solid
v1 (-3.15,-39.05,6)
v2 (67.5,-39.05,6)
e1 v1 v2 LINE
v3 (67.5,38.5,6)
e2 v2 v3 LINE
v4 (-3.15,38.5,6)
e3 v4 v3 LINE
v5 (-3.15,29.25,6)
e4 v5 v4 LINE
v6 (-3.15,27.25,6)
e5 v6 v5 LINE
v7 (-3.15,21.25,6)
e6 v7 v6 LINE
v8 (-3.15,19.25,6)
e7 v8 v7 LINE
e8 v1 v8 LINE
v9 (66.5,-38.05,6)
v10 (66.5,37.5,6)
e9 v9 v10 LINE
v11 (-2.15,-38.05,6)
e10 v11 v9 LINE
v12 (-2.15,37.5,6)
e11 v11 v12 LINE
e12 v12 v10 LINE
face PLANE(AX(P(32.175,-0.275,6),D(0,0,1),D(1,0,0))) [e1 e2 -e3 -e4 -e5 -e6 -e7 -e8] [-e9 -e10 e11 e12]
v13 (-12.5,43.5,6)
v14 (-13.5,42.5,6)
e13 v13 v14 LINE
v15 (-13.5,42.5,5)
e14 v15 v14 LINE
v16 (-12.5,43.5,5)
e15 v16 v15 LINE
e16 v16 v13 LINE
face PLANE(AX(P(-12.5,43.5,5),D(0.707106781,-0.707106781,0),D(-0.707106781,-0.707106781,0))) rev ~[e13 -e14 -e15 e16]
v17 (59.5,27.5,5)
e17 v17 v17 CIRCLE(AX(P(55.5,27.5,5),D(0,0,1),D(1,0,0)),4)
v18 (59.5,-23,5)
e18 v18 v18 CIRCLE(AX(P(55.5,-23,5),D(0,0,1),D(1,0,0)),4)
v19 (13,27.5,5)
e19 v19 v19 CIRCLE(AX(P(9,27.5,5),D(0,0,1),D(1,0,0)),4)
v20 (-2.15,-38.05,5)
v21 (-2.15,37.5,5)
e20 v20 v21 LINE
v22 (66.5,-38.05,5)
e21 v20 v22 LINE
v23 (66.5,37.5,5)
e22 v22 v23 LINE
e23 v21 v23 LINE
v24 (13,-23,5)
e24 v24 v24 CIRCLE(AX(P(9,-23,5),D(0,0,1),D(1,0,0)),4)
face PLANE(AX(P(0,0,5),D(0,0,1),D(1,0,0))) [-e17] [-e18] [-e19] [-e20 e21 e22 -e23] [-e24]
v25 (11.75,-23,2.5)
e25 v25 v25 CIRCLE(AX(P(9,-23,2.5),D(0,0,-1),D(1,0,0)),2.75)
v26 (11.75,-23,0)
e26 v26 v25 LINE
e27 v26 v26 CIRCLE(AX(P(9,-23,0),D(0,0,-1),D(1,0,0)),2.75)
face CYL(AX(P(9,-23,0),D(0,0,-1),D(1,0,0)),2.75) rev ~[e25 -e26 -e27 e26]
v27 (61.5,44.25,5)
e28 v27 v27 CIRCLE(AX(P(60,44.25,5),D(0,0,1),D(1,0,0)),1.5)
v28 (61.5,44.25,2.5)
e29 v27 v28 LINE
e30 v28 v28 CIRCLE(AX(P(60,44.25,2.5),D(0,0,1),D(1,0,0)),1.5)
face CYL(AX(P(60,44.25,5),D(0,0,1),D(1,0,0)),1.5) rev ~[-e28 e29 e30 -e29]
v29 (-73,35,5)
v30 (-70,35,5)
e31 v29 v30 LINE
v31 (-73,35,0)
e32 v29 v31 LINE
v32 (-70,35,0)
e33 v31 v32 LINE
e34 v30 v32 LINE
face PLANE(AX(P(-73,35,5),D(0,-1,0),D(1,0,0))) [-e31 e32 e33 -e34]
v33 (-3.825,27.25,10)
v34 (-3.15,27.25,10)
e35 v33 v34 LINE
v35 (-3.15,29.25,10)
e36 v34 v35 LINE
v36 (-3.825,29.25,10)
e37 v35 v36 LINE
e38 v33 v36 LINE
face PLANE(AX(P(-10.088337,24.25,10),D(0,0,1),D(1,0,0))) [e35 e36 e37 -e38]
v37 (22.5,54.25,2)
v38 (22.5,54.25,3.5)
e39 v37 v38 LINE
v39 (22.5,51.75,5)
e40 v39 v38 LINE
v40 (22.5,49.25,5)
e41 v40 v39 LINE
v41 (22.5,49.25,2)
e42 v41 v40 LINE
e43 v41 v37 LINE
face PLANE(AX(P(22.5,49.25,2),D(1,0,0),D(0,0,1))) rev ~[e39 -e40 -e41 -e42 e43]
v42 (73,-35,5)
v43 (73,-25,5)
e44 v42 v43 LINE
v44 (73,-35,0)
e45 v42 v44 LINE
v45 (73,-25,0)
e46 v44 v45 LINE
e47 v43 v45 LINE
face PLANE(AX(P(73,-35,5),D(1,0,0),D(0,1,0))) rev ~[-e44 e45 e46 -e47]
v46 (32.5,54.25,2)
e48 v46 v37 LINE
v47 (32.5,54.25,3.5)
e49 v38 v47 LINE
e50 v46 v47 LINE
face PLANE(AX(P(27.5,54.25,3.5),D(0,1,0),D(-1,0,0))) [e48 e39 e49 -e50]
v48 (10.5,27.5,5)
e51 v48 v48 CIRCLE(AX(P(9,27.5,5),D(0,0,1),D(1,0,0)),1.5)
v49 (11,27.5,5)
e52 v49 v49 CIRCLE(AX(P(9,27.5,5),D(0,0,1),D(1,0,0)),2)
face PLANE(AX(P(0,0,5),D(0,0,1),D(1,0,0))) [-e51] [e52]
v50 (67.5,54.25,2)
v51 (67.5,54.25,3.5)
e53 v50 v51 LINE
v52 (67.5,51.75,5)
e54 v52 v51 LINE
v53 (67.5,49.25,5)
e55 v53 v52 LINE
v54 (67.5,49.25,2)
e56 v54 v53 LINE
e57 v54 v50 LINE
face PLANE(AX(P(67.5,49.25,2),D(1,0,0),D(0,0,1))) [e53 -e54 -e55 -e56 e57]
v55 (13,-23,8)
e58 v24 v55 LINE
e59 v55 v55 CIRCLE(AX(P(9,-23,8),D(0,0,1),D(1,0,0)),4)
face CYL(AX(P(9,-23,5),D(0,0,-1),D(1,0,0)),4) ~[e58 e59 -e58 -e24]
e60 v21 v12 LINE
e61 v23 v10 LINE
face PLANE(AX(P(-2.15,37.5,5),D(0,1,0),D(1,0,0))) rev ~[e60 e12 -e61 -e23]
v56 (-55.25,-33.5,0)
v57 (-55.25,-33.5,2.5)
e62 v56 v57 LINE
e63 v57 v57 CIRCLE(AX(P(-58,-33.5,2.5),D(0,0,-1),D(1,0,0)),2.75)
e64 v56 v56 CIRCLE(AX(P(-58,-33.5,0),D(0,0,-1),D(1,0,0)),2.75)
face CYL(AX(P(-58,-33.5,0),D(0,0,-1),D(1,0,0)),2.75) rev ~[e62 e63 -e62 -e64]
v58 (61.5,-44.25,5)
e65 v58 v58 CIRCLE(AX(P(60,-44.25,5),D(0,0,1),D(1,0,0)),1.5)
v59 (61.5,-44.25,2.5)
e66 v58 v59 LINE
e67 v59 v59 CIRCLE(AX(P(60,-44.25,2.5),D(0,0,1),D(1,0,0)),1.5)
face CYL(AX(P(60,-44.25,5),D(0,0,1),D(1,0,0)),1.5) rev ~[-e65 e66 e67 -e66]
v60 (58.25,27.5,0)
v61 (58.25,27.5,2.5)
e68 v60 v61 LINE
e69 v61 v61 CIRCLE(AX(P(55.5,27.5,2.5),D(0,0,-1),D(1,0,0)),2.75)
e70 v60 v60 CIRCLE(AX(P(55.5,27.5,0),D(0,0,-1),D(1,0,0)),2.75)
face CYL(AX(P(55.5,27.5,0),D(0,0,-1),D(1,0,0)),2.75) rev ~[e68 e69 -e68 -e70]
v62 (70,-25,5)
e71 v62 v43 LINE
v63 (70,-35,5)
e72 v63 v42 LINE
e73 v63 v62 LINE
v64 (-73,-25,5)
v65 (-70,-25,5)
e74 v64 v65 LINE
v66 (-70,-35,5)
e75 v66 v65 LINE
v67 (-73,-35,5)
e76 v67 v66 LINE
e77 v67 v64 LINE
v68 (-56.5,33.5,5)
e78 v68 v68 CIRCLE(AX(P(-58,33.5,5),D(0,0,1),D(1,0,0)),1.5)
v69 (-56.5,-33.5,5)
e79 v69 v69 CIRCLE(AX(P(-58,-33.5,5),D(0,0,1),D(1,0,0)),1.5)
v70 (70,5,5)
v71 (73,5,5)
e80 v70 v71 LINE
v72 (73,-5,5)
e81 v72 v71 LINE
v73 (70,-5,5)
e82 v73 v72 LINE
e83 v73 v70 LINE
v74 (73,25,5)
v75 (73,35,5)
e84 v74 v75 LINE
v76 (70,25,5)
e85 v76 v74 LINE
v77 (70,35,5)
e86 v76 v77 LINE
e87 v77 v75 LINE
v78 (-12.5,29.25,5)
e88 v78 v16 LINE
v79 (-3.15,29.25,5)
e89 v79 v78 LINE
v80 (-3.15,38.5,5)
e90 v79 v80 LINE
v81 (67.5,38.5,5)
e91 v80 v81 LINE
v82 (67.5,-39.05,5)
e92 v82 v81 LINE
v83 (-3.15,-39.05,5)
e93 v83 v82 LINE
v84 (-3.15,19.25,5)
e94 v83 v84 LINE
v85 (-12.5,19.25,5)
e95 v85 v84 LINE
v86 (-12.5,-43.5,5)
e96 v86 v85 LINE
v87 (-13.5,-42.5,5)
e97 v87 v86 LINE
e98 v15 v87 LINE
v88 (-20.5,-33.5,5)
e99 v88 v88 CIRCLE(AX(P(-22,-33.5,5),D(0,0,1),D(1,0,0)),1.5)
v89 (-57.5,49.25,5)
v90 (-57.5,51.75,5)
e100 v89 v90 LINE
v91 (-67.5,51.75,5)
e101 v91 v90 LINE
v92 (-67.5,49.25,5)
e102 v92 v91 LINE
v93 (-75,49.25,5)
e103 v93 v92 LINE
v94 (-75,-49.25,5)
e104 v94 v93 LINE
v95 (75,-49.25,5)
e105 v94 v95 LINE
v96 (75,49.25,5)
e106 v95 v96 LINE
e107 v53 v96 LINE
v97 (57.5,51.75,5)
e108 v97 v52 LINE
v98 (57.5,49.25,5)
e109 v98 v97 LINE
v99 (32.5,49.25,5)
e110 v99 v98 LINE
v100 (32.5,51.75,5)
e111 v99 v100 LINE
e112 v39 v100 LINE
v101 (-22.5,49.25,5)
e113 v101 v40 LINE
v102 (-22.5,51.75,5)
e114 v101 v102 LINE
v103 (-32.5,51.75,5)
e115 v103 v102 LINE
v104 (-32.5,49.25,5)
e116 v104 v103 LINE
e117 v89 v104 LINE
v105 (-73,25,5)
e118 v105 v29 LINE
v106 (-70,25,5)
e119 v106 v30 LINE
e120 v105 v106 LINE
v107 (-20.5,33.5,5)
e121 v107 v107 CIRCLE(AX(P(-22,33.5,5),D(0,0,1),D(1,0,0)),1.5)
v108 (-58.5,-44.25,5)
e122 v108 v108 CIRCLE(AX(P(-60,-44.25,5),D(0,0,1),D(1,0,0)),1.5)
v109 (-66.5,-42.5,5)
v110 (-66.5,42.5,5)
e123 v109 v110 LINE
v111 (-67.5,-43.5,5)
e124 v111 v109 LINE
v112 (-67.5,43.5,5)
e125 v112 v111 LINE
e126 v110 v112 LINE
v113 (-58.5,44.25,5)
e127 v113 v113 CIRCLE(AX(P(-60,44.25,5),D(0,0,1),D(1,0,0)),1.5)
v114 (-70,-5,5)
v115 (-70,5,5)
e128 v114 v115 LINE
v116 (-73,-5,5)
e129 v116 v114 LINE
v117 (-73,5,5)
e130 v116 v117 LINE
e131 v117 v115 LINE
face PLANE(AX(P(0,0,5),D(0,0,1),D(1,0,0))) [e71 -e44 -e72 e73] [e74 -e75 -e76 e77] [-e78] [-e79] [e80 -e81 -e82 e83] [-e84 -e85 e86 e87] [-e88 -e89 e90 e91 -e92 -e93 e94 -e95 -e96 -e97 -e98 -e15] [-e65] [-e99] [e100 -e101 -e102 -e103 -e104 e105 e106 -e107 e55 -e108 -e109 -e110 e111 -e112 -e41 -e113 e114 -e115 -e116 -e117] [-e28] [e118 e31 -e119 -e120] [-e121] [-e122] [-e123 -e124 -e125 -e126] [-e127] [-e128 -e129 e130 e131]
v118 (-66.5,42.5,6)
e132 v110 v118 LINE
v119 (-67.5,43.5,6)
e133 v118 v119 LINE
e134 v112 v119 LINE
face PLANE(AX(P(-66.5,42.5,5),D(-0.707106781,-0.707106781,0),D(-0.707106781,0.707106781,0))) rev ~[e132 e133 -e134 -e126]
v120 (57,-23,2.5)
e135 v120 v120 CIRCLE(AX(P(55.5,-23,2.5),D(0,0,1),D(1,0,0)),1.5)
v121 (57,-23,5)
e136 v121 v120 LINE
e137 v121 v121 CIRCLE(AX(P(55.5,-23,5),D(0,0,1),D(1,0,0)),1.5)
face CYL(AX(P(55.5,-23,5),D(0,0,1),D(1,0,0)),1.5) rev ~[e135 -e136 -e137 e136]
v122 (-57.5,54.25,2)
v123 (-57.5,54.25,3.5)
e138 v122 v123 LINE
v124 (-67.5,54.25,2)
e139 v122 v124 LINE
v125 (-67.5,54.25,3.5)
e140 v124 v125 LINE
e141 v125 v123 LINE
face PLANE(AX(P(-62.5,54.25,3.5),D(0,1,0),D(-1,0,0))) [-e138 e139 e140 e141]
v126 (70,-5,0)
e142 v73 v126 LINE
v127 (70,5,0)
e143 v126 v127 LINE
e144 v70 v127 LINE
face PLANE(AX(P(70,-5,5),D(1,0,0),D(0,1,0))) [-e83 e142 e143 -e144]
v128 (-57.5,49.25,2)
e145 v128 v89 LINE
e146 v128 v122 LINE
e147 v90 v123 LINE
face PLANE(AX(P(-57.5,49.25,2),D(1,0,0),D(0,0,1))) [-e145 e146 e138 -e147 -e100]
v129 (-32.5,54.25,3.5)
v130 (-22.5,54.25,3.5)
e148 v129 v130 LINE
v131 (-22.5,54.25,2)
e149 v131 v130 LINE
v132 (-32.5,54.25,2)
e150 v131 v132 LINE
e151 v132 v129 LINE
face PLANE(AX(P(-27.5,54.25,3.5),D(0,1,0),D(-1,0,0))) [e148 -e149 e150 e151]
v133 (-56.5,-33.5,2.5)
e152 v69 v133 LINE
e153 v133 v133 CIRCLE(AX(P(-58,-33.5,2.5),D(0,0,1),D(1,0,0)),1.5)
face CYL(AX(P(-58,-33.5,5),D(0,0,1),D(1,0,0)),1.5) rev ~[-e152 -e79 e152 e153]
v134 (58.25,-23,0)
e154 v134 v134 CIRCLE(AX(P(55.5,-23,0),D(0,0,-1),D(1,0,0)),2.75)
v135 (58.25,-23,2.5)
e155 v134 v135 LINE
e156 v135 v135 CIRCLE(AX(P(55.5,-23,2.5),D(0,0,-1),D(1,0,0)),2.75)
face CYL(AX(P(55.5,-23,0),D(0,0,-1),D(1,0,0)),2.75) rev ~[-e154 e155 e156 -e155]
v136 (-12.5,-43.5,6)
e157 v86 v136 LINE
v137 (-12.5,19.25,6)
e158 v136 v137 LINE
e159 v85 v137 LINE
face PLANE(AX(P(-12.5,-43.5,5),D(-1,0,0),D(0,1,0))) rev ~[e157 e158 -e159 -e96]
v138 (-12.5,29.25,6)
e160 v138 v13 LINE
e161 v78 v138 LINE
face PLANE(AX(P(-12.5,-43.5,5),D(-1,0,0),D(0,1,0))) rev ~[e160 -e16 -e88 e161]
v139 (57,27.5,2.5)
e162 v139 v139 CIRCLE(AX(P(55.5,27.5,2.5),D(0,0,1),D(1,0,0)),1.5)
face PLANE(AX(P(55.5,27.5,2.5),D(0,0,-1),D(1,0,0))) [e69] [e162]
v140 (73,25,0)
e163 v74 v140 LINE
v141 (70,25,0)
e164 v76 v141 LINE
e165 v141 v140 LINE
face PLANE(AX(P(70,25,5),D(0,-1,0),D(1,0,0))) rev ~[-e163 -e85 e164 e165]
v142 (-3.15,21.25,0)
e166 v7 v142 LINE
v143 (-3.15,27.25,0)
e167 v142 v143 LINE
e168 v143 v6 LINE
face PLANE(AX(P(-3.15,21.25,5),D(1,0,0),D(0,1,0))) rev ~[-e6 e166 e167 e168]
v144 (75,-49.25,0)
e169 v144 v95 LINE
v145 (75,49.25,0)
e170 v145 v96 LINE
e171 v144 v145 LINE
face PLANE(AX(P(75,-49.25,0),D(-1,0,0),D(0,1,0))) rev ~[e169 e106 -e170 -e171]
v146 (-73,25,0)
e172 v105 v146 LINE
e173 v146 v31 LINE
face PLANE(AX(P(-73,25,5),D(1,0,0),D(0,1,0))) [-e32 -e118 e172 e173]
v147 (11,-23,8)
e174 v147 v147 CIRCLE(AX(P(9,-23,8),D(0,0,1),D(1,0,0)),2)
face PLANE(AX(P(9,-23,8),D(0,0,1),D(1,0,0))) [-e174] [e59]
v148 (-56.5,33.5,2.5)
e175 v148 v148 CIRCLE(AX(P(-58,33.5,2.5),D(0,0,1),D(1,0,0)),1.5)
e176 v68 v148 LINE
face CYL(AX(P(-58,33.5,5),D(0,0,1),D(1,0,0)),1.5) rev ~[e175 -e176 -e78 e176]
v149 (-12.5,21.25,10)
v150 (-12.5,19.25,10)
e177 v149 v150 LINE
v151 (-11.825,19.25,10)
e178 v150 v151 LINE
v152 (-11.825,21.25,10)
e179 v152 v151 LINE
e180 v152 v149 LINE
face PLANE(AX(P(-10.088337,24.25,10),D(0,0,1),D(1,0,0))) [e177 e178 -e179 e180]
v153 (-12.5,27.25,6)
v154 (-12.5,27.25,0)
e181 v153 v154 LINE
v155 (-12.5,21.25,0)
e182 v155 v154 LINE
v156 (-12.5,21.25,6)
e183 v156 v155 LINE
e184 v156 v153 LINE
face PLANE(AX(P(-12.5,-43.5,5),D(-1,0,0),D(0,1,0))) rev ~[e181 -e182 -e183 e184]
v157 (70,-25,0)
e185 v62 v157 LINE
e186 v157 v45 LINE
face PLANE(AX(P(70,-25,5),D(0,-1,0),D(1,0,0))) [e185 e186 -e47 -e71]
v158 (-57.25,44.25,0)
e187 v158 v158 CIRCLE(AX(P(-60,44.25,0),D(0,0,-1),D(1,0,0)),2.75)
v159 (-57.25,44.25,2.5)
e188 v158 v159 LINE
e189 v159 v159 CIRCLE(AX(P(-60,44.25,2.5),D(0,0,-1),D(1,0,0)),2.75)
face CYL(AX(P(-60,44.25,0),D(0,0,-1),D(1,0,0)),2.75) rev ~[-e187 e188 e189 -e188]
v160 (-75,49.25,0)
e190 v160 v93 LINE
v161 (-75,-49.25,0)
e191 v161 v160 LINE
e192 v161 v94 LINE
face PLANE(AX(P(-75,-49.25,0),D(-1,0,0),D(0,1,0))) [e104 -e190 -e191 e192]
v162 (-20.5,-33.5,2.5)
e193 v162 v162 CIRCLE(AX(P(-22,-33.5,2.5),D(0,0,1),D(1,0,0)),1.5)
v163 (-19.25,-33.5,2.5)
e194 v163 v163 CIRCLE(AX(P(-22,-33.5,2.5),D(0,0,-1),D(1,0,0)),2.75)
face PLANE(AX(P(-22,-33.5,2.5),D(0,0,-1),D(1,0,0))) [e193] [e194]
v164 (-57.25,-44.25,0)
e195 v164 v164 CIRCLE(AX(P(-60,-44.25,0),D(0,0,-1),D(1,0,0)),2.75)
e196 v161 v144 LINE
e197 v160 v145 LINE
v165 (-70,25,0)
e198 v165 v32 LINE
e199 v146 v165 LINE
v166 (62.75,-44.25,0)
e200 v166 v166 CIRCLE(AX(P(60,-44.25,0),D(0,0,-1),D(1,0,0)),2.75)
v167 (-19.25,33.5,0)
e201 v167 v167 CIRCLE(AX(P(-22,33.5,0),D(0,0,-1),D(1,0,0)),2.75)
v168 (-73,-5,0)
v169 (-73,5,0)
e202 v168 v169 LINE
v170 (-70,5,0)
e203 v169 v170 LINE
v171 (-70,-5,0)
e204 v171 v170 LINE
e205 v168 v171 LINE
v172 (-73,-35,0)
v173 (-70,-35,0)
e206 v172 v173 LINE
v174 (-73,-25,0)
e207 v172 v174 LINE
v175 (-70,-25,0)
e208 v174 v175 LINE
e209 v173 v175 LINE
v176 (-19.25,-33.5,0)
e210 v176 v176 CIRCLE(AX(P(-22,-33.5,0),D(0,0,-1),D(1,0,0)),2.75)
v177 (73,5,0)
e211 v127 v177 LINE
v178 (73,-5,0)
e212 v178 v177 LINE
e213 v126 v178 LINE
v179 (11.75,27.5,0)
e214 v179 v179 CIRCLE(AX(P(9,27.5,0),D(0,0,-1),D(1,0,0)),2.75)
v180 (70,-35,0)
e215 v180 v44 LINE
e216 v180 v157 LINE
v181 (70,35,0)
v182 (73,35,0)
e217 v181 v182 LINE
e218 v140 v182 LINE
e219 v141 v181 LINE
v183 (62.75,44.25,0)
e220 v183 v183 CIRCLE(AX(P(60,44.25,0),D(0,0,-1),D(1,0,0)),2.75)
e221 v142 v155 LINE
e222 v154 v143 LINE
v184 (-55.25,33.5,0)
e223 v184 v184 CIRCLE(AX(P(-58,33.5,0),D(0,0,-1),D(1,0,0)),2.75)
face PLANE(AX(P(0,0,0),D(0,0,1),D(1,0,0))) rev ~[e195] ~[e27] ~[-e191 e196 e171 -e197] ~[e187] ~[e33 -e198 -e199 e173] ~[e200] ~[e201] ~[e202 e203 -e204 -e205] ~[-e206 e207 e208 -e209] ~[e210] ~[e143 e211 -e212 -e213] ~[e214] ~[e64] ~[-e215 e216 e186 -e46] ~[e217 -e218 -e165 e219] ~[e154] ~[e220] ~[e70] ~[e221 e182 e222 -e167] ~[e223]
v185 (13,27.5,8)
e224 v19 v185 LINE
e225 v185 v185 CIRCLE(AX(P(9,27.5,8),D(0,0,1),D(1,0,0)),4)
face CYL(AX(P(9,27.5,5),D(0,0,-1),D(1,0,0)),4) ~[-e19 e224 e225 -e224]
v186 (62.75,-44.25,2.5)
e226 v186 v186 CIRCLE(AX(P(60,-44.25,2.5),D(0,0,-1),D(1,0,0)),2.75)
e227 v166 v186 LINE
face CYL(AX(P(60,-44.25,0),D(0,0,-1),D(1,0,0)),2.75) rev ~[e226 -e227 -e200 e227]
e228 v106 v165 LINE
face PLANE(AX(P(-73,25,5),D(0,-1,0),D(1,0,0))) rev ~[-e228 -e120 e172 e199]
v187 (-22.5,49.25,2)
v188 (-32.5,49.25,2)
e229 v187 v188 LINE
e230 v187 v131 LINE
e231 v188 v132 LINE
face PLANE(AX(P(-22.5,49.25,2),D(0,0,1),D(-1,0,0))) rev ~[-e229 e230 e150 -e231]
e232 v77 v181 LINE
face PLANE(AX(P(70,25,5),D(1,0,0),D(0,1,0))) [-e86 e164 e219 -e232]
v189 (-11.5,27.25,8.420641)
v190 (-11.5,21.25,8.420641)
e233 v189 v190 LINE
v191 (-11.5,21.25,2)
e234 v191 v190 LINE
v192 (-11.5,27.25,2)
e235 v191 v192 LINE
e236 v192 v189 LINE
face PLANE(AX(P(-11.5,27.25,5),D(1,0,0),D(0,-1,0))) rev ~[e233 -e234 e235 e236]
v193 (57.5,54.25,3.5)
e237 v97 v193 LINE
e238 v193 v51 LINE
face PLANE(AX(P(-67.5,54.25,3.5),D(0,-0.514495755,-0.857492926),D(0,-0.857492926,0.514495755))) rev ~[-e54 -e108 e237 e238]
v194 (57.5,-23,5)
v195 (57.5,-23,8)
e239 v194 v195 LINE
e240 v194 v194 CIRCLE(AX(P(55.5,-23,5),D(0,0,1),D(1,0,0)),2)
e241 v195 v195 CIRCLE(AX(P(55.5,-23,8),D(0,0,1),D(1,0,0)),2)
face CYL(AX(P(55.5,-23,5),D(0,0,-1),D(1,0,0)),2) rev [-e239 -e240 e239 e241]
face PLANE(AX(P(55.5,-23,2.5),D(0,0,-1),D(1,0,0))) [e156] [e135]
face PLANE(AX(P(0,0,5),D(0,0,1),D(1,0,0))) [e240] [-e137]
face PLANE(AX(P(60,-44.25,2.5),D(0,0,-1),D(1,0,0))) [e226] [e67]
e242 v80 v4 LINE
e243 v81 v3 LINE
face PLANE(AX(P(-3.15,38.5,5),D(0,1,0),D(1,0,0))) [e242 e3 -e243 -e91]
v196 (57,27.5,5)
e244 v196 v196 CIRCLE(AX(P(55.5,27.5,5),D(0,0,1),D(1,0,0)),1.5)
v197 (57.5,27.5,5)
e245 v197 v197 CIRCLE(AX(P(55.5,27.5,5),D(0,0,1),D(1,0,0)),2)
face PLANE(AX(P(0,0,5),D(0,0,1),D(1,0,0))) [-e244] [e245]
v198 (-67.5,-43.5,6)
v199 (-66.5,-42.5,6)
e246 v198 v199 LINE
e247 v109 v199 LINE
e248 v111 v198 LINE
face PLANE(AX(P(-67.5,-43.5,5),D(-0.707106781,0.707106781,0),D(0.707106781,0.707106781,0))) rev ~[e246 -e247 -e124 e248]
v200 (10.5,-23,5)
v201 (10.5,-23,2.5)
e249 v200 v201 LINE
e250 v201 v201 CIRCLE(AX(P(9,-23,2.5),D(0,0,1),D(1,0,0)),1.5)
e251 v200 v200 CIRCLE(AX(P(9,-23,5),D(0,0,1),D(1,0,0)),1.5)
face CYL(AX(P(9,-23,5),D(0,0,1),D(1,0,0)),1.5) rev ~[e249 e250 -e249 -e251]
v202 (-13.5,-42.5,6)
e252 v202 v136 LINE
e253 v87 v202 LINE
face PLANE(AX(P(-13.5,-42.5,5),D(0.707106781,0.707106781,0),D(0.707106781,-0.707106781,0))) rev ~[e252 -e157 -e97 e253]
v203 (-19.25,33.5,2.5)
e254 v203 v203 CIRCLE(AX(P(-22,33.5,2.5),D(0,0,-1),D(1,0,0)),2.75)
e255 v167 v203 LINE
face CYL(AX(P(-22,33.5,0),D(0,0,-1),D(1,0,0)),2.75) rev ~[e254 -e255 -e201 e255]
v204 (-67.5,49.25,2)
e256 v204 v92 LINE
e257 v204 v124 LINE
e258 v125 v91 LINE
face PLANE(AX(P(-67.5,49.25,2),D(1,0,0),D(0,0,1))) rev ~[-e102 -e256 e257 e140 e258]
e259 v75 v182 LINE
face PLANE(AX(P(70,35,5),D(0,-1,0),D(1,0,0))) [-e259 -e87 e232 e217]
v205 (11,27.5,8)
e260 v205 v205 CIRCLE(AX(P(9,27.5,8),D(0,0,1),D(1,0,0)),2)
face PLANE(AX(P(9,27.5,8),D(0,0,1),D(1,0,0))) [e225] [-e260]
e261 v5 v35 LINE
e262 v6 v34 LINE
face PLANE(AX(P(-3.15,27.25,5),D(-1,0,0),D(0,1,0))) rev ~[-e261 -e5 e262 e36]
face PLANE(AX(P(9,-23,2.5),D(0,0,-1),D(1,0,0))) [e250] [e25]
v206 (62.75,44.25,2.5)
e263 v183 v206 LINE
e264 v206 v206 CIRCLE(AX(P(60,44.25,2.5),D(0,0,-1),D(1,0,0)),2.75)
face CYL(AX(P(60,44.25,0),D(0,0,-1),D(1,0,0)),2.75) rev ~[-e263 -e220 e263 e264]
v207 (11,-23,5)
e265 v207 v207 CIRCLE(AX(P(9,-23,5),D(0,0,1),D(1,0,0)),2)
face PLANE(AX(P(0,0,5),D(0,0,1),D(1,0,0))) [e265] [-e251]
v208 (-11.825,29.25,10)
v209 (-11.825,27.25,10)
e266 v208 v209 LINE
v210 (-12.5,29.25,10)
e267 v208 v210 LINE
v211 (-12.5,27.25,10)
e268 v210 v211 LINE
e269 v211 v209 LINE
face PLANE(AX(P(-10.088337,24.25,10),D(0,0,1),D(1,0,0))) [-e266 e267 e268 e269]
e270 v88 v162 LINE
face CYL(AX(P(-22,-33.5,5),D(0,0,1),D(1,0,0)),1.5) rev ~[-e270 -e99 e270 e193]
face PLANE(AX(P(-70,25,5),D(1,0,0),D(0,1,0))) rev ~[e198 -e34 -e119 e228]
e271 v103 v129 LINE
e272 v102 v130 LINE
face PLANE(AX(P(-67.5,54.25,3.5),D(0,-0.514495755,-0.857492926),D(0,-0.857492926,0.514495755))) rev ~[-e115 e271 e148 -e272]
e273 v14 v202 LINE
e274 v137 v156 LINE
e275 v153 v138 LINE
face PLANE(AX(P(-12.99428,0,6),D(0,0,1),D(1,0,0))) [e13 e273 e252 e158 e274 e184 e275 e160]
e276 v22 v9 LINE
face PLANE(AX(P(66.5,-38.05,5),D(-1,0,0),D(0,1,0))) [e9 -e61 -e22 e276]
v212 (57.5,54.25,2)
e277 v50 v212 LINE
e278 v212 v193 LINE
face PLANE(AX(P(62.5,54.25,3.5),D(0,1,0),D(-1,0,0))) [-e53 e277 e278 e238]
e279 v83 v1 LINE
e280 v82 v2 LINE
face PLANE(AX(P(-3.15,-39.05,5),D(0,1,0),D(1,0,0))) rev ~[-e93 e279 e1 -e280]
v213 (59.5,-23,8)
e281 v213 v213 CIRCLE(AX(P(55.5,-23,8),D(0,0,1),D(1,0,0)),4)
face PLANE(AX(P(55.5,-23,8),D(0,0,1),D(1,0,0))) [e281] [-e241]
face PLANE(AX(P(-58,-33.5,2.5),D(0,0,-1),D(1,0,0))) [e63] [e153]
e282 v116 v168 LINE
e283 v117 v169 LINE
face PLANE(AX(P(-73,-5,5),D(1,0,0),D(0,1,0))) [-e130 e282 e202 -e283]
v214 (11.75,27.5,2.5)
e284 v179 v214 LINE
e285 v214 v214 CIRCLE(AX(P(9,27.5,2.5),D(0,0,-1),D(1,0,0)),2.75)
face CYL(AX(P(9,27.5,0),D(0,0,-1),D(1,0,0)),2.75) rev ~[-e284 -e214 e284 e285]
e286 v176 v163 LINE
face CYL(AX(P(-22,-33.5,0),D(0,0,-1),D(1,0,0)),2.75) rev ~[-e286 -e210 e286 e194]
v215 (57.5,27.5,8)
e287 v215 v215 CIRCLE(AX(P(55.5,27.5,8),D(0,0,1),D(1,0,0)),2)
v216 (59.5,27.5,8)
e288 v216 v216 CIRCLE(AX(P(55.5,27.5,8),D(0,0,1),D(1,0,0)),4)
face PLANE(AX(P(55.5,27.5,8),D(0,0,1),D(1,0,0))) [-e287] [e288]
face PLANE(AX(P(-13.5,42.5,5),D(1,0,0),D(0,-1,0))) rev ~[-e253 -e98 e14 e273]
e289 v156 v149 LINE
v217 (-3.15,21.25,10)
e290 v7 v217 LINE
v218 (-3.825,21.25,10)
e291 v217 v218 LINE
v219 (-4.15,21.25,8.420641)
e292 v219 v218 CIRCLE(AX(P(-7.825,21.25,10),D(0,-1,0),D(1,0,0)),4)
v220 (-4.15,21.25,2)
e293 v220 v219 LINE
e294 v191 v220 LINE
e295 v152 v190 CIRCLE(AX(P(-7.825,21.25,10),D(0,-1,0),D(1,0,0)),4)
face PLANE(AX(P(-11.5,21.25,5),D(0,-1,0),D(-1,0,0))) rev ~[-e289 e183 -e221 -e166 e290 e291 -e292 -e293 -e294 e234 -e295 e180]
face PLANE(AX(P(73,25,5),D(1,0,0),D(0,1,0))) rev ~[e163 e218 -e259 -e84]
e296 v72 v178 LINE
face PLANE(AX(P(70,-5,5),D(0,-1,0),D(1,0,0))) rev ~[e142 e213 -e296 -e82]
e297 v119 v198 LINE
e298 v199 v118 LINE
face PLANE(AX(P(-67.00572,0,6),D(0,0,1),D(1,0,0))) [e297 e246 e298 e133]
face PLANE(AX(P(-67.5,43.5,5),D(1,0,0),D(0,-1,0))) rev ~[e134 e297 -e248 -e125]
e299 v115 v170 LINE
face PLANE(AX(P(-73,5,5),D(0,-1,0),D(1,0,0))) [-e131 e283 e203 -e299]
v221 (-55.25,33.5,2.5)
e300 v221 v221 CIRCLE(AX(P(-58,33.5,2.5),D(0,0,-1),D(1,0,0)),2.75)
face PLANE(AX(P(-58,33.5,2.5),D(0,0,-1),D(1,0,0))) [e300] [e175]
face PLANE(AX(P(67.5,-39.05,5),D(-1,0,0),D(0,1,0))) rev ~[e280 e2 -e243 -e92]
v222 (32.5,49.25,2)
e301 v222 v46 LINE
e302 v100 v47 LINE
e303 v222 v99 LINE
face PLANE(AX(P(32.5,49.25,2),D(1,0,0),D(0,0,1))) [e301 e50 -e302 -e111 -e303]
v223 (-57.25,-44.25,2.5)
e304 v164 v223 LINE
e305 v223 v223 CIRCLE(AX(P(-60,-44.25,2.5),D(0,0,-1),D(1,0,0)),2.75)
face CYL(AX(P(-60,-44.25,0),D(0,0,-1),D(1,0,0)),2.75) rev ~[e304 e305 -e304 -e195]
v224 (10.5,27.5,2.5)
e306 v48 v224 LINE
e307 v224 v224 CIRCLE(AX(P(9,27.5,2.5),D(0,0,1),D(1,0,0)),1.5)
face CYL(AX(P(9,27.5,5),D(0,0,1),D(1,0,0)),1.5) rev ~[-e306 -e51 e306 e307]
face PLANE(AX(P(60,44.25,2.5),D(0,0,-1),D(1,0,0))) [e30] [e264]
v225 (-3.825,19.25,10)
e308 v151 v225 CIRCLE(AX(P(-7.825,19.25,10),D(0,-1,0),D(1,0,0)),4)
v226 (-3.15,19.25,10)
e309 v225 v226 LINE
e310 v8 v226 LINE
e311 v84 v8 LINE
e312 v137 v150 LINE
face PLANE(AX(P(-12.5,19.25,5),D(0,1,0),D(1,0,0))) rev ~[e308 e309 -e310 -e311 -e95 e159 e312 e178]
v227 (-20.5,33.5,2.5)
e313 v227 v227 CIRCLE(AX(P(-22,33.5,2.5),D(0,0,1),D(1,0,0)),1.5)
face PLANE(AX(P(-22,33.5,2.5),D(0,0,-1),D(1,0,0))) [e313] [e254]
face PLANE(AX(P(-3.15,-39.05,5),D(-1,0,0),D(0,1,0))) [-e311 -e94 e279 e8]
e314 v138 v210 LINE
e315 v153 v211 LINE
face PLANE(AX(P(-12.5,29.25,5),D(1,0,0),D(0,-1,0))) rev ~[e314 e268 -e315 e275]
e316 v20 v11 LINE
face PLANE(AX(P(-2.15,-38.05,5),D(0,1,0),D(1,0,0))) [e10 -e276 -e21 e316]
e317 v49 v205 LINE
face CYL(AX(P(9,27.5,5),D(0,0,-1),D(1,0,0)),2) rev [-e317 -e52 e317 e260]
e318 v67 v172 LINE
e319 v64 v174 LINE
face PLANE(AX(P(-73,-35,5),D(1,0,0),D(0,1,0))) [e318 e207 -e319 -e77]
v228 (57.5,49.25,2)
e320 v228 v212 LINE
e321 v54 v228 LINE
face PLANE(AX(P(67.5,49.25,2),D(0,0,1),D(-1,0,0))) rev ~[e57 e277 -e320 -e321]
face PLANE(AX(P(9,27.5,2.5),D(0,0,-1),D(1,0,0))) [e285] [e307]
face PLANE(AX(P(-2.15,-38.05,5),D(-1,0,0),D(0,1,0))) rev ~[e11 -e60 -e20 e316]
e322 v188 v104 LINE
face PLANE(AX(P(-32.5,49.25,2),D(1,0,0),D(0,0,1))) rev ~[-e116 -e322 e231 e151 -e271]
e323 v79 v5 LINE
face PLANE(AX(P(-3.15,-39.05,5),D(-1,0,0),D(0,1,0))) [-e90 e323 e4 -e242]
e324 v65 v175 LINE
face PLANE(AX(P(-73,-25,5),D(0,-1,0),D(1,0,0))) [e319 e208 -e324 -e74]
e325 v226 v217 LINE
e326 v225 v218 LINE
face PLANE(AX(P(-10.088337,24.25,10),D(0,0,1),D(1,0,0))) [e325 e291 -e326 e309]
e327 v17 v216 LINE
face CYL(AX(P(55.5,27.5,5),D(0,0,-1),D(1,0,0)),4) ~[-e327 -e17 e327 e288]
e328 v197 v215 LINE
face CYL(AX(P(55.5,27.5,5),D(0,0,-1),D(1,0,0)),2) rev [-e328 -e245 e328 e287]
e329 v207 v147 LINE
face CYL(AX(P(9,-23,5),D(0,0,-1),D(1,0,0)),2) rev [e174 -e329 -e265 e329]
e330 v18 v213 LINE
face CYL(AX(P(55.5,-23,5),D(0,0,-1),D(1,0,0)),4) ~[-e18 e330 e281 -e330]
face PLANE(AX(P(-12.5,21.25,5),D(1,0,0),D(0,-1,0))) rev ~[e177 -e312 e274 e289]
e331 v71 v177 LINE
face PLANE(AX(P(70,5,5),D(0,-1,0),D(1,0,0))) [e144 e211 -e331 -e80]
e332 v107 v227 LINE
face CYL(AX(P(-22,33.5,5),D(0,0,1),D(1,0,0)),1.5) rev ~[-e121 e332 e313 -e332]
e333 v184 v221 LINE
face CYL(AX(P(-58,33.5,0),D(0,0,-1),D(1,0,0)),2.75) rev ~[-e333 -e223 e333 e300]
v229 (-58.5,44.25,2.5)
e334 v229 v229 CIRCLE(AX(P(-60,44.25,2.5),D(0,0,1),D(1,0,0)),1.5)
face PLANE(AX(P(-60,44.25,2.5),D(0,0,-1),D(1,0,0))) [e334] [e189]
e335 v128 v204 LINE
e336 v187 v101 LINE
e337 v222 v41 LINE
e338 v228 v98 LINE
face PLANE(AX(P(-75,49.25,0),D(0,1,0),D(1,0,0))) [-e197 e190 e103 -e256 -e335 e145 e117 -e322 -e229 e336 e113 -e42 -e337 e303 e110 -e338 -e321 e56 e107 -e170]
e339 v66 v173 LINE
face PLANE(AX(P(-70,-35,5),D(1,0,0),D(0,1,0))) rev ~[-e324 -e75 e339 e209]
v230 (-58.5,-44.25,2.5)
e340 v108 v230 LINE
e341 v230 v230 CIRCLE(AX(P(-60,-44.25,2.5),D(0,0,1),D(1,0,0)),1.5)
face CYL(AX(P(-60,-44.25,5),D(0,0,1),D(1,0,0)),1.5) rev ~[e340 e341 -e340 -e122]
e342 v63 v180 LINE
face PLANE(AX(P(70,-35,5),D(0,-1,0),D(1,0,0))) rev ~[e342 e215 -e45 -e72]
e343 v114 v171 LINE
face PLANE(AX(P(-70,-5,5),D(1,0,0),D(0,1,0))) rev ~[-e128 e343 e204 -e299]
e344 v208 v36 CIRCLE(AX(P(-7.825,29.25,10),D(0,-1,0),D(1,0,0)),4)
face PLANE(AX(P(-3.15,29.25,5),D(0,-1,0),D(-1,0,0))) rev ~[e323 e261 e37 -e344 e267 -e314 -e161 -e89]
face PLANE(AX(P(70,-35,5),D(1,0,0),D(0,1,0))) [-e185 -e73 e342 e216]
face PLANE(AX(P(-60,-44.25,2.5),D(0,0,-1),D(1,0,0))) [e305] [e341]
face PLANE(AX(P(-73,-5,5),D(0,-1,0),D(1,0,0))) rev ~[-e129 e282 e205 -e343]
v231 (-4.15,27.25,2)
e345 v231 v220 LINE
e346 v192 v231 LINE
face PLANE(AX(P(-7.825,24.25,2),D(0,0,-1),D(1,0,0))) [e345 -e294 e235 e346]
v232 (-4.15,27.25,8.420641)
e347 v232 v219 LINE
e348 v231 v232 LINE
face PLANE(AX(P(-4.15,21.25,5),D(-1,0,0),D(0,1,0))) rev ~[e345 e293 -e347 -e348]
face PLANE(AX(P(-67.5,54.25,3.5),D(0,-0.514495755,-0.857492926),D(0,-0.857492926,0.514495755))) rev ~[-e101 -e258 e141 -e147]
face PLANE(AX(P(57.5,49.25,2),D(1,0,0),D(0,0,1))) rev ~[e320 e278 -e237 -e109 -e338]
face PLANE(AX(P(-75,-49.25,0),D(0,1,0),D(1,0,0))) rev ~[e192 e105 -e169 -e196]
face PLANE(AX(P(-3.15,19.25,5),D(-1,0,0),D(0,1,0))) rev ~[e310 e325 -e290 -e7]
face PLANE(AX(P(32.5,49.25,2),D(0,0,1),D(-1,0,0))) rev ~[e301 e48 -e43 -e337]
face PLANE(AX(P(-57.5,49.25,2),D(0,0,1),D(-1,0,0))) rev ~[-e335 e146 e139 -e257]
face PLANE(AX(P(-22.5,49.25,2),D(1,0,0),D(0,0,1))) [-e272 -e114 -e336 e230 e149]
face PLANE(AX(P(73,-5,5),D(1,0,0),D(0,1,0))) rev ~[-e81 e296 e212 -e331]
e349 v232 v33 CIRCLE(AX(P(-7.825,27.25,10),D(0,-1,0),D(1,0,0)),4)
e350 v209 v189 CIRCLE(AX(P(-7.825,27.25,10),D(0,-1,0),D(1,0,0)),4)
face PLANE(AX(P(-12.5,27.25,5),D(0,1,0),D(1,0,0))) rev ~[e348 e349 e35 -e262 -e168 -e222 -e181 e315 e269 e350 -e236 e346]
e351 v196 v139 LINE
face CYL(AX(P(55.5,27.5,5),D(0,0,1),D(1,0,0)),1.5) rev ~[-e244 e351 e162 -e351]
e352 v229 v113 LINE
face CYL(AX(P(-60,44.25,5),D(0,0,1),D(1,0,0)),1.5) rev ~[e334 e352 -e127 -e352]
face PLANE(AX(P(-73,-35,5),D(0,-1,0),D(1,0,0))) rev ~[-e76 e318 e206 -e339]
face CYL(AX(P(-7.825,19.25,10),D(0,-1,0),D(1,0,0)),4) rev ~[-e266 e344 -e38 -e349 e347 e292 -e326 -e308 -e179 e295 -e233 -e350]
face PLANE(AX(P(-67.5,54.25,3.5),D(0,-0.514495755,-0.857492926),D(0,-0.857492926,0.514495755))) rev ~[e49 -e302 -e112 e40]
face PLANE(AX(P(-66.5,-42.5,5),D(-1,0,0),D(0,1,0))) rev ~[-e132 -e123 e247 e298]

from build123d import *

# Parameters (mm, degrees)
F0_W      = 150
F0_H      = 98.5
F1_DEPTH  = 5
F3_W      = 70.65
F3_H      = 77.55
F3_W_2    = 68.65
F3_H_2    = 75.55
F4_DEPTH  = 1
F5_R      = 4
F5_R_2    = 2
F6_DEPTH  = 3
F7_R      = 1.5
F8_DEPTH  = 12.5
F9_R      = 2.75
F10_DEPTH = 2.5
F11_W     = 3
F11_H     = 10
F12_DEPTH = 25
F14_DEPTH = 5
F15_R     = 4
F16_DEPTH = 25
F13_W     = 1
F13_H     = 6
F17_DEPTH = 25
F18_W     = 9.35
F18_H     = 6
F19_DEPTH = 2
F20_W     = 10
F20_H     = 3
F21_DEPTH = 5
F23_DEPTH = 200


with BuildPart() as f1:
    # F0 (on Top) → F1 (new body)
    with BuildSketch(Plane.XY):
        Rectangle(F0_W, F0_H)
    extrude(amount=F1_DEPTH)

    # F3 (on face) → F4 (join)
    with BuildSketch(Plane.XY.offset(5)):
        Polygon((-66.5, -42.5), (-66.5, 42.5), (-67.5, 43.5), (-67.5, -43.5), align=None)
        Polygon((-12.5, 43.5), (-13.5, 42.5), (-13.5, -42.5), (-12.5, -43.5), align=None)
        with Locations((32.175, -0.275)):
            Rectangle(F3_W, F3_H)
        with Locations((32.175, -0.275)):
            Rectangle(F3_W_2, F3_H_2, mode=Mode.SUBTRACT)
    extrude(amount=F4_DEPTH)

    # F5 (on face) → F6 (join)
    with BuildSketch(Plane.XY.offset(5)):
        with Locations((9, 27.5)):
            Circle(F5_R)
        with Locations((9, 27.5)):
            Circle(F5_R_2, mode=Mode.SUBTRACT)
        with Locations((55.5, 27.5)):
            Circle(F5_R)
        with Locations((55.5, 27.5)):
            Circle(F5_R_2, mode=Mode.SUBTRACT)
        with Locations((55.5, -23)):
            Circle(F5_R)
        with Locations((55.5, -23)):
            Circle(F5_R_2, mode=Mode.SUBTRACT)
        with Locations((9, -23)):
            Circle(F5_R)
        with Locations((9, -23)):
            Circle(F5_R_2, mode=Mode.SUBTRACT)
    extrude(amount=F6_DEPTH)

    # F7 (on face) → F8 (cut, symmetric)
    with BuildSketch(Plane.XY.offset(5)):
        with Locations((9, 27.5)):
            Circle(F7_R)
        with Locations((55.5, 27.5)):
            Circle(F7_R)
        with Locations((9, -23)):
            Circle(F7_R)
        with Locations((55.5, -23)):
            Circle(F7_R)
        with Locations((-58, 33.5)):
            Circle(F7_R)
        with Locations((-22, 33.5)):
            Circle(F7_R)
        with Locations((-58, -33.5)):
            Circle(F7_R)
        with Locations((-22, -33.5)):
            Circle(F7_R)
        with Locations((-60, -44.25)):
            Circle(F7_R)
        with Locations((60, -44.25)):
            Circle(F7_R)
        with Locations((60, 44.25)):
            Circle(F7_R)
        with Locations((-60, 44.25)):
            Circle(F7_R)
    extrude(amount=F8_DEPTH, both=True, mode=Mode.SUBTRACT)

    # F9 (on face) → F10 (cut)
    with BuildSketch(Plane(origin=(0, 0, 0), x_dir=(1, 0, 0), z_dir=(0, 0, -1))):
        with Locations((9, 23)):
            Circle(F9_R)
        with Locations((55.5, 23)):
            Circle(F9_R)
        with Locations((9, -27.5)):
            Circle(F9_R)
        with Locations((55.5, -27.5)):
            Circle(F9_R)
        with Locations((-22, -33.5)):
            Circle(F9_R)
        with Locations((-58, -33.5)):
            Circle(F9_R)
        with Locations((-22, 33.5)):
            Circle(F9_R)
        with Locations((-58, 33.5)):
            Circle(F9_R)
        with Locations((-60, -44.25)):
            Circle(F9_R)
        with Locations((60, -44.25)):
            Circle(F9_R)
        with Locations((-60, 44.25)):
            Circle(F9_R)
        with Locations((60, 44.25)):
            Circle(F9_R)
    extrude(amount=-F10_DEPTH, mode=Mode.SUBTRACT)

    # F11 (on face) → F12 (cut)
    with BuildSketch(Plane.XY.offset(5)):
        with Locations((-71.5, 30)):
            Rectangle(F11_W, F11_H)
        with Locations((-71.5, 0)):
            Rectangle(F11_W, F11_H)
        with Locations((-71.5, -30)):
            Rectangle(F11_W, F11_H)
        with Locations((71.5, -30)):
            Rectangle(F11_W, F11_H)
        with Locations((71.5, 30)):
            Rectangle(F11_W, F11_H)
        with Locations((71.5, 0)):
            Rectangle(F11_W, F11_H)
    extrude(amount=-F12_DEPTH, mode=Mode.SUBTRACT)

    # F13 (on face) → F14 (join)
    with BuildSketch(Plane.XY.offset(5)):
        Polygon((-7.825, 29.25), (-12.5, 29.25), (-12.5, 27.25), (-11.5, 27.25), (-11.5, 21.25), (-12.5, 21.25), (-12.5, 19.25), (-7.825, 19.25), align=None)
        Polygon((-3.15, 29.25), (-7.825, 29.25), (-7.825, 19.25), (-3.15, 19.25), (-3.15, 21.25), (-4.15, 21.25), (-4.15, 27.25), (-3.15, 27.25), align=None)
    extrude(amount=F14_DEPTH)

    # F15 (on face) → F16 (cut)
    with BuildSketch(Plane.XZ.offset(-19.25)):
        with Locations((-7.825, 10)):
            Circle(F15_R)
    extrude(amount=-F16_DEPTH, mode=Mode.SUBTRACT)

    # F13 (on face) → F17 (cut)
    with BuildSketch(Plane.XY.offset(5)):
        with Locations((-12, 24.25)):
            Rectangle(F13_W, F13_H)
        with Locations((-3.65, 24.25)):
            Rectangle(F13_W, F13_H)
    extrude(amount=-F17_DEPTH, mode=Mode.SUBTRACT)

    # F18 (on face) → F19 (cut)
    with BuildSketch(Plane(origin=(0, 0, 0), x_dir=(1, 0, 0), z_dir=(0, 0, -1))):
        with Locations((-7.825, -24.25)):
            Rectangle(F18_W, F18_H)
    extrude(amount=-F19_DEPTH, mode=Mode.SUBTRACT)

    # F20 (on face) → F21 (join)
    with BuildSketch(Plane(origin=(0, 49.25, 0), x_dir=(-1, 0, 0), z_dir=(0, 1, 0))):
        with Locations((-62.5, 3.5)):
            Rectangle(F20_W, F20_H)
        with Locations((-27.5, 3.5)):
            Rectangle(F20_W, F20_H)
        with Locations((27.5, 3.5)):
            Rectangle(F20_W, F20_H)
        with Locations((62.5, 3.5)):
            Rectangle(F20_W, F20_H)
    extrude(amount=F21_DEPTH)

    # F22 (on face) → F23 (cut)
    with BuildSketch(Plane(origin=(-67.5, 0, 0), x_dir=(0, -1, 0), z_dir=(-1, 0, 0))):
        Polygon((-54.25, 5), (-54.25, 3.5), (-51.75, 5), align=None)
    extrude(amount=-F23_DEPTH, mode=Mode.SUBTRACT)


solid = f1.part
